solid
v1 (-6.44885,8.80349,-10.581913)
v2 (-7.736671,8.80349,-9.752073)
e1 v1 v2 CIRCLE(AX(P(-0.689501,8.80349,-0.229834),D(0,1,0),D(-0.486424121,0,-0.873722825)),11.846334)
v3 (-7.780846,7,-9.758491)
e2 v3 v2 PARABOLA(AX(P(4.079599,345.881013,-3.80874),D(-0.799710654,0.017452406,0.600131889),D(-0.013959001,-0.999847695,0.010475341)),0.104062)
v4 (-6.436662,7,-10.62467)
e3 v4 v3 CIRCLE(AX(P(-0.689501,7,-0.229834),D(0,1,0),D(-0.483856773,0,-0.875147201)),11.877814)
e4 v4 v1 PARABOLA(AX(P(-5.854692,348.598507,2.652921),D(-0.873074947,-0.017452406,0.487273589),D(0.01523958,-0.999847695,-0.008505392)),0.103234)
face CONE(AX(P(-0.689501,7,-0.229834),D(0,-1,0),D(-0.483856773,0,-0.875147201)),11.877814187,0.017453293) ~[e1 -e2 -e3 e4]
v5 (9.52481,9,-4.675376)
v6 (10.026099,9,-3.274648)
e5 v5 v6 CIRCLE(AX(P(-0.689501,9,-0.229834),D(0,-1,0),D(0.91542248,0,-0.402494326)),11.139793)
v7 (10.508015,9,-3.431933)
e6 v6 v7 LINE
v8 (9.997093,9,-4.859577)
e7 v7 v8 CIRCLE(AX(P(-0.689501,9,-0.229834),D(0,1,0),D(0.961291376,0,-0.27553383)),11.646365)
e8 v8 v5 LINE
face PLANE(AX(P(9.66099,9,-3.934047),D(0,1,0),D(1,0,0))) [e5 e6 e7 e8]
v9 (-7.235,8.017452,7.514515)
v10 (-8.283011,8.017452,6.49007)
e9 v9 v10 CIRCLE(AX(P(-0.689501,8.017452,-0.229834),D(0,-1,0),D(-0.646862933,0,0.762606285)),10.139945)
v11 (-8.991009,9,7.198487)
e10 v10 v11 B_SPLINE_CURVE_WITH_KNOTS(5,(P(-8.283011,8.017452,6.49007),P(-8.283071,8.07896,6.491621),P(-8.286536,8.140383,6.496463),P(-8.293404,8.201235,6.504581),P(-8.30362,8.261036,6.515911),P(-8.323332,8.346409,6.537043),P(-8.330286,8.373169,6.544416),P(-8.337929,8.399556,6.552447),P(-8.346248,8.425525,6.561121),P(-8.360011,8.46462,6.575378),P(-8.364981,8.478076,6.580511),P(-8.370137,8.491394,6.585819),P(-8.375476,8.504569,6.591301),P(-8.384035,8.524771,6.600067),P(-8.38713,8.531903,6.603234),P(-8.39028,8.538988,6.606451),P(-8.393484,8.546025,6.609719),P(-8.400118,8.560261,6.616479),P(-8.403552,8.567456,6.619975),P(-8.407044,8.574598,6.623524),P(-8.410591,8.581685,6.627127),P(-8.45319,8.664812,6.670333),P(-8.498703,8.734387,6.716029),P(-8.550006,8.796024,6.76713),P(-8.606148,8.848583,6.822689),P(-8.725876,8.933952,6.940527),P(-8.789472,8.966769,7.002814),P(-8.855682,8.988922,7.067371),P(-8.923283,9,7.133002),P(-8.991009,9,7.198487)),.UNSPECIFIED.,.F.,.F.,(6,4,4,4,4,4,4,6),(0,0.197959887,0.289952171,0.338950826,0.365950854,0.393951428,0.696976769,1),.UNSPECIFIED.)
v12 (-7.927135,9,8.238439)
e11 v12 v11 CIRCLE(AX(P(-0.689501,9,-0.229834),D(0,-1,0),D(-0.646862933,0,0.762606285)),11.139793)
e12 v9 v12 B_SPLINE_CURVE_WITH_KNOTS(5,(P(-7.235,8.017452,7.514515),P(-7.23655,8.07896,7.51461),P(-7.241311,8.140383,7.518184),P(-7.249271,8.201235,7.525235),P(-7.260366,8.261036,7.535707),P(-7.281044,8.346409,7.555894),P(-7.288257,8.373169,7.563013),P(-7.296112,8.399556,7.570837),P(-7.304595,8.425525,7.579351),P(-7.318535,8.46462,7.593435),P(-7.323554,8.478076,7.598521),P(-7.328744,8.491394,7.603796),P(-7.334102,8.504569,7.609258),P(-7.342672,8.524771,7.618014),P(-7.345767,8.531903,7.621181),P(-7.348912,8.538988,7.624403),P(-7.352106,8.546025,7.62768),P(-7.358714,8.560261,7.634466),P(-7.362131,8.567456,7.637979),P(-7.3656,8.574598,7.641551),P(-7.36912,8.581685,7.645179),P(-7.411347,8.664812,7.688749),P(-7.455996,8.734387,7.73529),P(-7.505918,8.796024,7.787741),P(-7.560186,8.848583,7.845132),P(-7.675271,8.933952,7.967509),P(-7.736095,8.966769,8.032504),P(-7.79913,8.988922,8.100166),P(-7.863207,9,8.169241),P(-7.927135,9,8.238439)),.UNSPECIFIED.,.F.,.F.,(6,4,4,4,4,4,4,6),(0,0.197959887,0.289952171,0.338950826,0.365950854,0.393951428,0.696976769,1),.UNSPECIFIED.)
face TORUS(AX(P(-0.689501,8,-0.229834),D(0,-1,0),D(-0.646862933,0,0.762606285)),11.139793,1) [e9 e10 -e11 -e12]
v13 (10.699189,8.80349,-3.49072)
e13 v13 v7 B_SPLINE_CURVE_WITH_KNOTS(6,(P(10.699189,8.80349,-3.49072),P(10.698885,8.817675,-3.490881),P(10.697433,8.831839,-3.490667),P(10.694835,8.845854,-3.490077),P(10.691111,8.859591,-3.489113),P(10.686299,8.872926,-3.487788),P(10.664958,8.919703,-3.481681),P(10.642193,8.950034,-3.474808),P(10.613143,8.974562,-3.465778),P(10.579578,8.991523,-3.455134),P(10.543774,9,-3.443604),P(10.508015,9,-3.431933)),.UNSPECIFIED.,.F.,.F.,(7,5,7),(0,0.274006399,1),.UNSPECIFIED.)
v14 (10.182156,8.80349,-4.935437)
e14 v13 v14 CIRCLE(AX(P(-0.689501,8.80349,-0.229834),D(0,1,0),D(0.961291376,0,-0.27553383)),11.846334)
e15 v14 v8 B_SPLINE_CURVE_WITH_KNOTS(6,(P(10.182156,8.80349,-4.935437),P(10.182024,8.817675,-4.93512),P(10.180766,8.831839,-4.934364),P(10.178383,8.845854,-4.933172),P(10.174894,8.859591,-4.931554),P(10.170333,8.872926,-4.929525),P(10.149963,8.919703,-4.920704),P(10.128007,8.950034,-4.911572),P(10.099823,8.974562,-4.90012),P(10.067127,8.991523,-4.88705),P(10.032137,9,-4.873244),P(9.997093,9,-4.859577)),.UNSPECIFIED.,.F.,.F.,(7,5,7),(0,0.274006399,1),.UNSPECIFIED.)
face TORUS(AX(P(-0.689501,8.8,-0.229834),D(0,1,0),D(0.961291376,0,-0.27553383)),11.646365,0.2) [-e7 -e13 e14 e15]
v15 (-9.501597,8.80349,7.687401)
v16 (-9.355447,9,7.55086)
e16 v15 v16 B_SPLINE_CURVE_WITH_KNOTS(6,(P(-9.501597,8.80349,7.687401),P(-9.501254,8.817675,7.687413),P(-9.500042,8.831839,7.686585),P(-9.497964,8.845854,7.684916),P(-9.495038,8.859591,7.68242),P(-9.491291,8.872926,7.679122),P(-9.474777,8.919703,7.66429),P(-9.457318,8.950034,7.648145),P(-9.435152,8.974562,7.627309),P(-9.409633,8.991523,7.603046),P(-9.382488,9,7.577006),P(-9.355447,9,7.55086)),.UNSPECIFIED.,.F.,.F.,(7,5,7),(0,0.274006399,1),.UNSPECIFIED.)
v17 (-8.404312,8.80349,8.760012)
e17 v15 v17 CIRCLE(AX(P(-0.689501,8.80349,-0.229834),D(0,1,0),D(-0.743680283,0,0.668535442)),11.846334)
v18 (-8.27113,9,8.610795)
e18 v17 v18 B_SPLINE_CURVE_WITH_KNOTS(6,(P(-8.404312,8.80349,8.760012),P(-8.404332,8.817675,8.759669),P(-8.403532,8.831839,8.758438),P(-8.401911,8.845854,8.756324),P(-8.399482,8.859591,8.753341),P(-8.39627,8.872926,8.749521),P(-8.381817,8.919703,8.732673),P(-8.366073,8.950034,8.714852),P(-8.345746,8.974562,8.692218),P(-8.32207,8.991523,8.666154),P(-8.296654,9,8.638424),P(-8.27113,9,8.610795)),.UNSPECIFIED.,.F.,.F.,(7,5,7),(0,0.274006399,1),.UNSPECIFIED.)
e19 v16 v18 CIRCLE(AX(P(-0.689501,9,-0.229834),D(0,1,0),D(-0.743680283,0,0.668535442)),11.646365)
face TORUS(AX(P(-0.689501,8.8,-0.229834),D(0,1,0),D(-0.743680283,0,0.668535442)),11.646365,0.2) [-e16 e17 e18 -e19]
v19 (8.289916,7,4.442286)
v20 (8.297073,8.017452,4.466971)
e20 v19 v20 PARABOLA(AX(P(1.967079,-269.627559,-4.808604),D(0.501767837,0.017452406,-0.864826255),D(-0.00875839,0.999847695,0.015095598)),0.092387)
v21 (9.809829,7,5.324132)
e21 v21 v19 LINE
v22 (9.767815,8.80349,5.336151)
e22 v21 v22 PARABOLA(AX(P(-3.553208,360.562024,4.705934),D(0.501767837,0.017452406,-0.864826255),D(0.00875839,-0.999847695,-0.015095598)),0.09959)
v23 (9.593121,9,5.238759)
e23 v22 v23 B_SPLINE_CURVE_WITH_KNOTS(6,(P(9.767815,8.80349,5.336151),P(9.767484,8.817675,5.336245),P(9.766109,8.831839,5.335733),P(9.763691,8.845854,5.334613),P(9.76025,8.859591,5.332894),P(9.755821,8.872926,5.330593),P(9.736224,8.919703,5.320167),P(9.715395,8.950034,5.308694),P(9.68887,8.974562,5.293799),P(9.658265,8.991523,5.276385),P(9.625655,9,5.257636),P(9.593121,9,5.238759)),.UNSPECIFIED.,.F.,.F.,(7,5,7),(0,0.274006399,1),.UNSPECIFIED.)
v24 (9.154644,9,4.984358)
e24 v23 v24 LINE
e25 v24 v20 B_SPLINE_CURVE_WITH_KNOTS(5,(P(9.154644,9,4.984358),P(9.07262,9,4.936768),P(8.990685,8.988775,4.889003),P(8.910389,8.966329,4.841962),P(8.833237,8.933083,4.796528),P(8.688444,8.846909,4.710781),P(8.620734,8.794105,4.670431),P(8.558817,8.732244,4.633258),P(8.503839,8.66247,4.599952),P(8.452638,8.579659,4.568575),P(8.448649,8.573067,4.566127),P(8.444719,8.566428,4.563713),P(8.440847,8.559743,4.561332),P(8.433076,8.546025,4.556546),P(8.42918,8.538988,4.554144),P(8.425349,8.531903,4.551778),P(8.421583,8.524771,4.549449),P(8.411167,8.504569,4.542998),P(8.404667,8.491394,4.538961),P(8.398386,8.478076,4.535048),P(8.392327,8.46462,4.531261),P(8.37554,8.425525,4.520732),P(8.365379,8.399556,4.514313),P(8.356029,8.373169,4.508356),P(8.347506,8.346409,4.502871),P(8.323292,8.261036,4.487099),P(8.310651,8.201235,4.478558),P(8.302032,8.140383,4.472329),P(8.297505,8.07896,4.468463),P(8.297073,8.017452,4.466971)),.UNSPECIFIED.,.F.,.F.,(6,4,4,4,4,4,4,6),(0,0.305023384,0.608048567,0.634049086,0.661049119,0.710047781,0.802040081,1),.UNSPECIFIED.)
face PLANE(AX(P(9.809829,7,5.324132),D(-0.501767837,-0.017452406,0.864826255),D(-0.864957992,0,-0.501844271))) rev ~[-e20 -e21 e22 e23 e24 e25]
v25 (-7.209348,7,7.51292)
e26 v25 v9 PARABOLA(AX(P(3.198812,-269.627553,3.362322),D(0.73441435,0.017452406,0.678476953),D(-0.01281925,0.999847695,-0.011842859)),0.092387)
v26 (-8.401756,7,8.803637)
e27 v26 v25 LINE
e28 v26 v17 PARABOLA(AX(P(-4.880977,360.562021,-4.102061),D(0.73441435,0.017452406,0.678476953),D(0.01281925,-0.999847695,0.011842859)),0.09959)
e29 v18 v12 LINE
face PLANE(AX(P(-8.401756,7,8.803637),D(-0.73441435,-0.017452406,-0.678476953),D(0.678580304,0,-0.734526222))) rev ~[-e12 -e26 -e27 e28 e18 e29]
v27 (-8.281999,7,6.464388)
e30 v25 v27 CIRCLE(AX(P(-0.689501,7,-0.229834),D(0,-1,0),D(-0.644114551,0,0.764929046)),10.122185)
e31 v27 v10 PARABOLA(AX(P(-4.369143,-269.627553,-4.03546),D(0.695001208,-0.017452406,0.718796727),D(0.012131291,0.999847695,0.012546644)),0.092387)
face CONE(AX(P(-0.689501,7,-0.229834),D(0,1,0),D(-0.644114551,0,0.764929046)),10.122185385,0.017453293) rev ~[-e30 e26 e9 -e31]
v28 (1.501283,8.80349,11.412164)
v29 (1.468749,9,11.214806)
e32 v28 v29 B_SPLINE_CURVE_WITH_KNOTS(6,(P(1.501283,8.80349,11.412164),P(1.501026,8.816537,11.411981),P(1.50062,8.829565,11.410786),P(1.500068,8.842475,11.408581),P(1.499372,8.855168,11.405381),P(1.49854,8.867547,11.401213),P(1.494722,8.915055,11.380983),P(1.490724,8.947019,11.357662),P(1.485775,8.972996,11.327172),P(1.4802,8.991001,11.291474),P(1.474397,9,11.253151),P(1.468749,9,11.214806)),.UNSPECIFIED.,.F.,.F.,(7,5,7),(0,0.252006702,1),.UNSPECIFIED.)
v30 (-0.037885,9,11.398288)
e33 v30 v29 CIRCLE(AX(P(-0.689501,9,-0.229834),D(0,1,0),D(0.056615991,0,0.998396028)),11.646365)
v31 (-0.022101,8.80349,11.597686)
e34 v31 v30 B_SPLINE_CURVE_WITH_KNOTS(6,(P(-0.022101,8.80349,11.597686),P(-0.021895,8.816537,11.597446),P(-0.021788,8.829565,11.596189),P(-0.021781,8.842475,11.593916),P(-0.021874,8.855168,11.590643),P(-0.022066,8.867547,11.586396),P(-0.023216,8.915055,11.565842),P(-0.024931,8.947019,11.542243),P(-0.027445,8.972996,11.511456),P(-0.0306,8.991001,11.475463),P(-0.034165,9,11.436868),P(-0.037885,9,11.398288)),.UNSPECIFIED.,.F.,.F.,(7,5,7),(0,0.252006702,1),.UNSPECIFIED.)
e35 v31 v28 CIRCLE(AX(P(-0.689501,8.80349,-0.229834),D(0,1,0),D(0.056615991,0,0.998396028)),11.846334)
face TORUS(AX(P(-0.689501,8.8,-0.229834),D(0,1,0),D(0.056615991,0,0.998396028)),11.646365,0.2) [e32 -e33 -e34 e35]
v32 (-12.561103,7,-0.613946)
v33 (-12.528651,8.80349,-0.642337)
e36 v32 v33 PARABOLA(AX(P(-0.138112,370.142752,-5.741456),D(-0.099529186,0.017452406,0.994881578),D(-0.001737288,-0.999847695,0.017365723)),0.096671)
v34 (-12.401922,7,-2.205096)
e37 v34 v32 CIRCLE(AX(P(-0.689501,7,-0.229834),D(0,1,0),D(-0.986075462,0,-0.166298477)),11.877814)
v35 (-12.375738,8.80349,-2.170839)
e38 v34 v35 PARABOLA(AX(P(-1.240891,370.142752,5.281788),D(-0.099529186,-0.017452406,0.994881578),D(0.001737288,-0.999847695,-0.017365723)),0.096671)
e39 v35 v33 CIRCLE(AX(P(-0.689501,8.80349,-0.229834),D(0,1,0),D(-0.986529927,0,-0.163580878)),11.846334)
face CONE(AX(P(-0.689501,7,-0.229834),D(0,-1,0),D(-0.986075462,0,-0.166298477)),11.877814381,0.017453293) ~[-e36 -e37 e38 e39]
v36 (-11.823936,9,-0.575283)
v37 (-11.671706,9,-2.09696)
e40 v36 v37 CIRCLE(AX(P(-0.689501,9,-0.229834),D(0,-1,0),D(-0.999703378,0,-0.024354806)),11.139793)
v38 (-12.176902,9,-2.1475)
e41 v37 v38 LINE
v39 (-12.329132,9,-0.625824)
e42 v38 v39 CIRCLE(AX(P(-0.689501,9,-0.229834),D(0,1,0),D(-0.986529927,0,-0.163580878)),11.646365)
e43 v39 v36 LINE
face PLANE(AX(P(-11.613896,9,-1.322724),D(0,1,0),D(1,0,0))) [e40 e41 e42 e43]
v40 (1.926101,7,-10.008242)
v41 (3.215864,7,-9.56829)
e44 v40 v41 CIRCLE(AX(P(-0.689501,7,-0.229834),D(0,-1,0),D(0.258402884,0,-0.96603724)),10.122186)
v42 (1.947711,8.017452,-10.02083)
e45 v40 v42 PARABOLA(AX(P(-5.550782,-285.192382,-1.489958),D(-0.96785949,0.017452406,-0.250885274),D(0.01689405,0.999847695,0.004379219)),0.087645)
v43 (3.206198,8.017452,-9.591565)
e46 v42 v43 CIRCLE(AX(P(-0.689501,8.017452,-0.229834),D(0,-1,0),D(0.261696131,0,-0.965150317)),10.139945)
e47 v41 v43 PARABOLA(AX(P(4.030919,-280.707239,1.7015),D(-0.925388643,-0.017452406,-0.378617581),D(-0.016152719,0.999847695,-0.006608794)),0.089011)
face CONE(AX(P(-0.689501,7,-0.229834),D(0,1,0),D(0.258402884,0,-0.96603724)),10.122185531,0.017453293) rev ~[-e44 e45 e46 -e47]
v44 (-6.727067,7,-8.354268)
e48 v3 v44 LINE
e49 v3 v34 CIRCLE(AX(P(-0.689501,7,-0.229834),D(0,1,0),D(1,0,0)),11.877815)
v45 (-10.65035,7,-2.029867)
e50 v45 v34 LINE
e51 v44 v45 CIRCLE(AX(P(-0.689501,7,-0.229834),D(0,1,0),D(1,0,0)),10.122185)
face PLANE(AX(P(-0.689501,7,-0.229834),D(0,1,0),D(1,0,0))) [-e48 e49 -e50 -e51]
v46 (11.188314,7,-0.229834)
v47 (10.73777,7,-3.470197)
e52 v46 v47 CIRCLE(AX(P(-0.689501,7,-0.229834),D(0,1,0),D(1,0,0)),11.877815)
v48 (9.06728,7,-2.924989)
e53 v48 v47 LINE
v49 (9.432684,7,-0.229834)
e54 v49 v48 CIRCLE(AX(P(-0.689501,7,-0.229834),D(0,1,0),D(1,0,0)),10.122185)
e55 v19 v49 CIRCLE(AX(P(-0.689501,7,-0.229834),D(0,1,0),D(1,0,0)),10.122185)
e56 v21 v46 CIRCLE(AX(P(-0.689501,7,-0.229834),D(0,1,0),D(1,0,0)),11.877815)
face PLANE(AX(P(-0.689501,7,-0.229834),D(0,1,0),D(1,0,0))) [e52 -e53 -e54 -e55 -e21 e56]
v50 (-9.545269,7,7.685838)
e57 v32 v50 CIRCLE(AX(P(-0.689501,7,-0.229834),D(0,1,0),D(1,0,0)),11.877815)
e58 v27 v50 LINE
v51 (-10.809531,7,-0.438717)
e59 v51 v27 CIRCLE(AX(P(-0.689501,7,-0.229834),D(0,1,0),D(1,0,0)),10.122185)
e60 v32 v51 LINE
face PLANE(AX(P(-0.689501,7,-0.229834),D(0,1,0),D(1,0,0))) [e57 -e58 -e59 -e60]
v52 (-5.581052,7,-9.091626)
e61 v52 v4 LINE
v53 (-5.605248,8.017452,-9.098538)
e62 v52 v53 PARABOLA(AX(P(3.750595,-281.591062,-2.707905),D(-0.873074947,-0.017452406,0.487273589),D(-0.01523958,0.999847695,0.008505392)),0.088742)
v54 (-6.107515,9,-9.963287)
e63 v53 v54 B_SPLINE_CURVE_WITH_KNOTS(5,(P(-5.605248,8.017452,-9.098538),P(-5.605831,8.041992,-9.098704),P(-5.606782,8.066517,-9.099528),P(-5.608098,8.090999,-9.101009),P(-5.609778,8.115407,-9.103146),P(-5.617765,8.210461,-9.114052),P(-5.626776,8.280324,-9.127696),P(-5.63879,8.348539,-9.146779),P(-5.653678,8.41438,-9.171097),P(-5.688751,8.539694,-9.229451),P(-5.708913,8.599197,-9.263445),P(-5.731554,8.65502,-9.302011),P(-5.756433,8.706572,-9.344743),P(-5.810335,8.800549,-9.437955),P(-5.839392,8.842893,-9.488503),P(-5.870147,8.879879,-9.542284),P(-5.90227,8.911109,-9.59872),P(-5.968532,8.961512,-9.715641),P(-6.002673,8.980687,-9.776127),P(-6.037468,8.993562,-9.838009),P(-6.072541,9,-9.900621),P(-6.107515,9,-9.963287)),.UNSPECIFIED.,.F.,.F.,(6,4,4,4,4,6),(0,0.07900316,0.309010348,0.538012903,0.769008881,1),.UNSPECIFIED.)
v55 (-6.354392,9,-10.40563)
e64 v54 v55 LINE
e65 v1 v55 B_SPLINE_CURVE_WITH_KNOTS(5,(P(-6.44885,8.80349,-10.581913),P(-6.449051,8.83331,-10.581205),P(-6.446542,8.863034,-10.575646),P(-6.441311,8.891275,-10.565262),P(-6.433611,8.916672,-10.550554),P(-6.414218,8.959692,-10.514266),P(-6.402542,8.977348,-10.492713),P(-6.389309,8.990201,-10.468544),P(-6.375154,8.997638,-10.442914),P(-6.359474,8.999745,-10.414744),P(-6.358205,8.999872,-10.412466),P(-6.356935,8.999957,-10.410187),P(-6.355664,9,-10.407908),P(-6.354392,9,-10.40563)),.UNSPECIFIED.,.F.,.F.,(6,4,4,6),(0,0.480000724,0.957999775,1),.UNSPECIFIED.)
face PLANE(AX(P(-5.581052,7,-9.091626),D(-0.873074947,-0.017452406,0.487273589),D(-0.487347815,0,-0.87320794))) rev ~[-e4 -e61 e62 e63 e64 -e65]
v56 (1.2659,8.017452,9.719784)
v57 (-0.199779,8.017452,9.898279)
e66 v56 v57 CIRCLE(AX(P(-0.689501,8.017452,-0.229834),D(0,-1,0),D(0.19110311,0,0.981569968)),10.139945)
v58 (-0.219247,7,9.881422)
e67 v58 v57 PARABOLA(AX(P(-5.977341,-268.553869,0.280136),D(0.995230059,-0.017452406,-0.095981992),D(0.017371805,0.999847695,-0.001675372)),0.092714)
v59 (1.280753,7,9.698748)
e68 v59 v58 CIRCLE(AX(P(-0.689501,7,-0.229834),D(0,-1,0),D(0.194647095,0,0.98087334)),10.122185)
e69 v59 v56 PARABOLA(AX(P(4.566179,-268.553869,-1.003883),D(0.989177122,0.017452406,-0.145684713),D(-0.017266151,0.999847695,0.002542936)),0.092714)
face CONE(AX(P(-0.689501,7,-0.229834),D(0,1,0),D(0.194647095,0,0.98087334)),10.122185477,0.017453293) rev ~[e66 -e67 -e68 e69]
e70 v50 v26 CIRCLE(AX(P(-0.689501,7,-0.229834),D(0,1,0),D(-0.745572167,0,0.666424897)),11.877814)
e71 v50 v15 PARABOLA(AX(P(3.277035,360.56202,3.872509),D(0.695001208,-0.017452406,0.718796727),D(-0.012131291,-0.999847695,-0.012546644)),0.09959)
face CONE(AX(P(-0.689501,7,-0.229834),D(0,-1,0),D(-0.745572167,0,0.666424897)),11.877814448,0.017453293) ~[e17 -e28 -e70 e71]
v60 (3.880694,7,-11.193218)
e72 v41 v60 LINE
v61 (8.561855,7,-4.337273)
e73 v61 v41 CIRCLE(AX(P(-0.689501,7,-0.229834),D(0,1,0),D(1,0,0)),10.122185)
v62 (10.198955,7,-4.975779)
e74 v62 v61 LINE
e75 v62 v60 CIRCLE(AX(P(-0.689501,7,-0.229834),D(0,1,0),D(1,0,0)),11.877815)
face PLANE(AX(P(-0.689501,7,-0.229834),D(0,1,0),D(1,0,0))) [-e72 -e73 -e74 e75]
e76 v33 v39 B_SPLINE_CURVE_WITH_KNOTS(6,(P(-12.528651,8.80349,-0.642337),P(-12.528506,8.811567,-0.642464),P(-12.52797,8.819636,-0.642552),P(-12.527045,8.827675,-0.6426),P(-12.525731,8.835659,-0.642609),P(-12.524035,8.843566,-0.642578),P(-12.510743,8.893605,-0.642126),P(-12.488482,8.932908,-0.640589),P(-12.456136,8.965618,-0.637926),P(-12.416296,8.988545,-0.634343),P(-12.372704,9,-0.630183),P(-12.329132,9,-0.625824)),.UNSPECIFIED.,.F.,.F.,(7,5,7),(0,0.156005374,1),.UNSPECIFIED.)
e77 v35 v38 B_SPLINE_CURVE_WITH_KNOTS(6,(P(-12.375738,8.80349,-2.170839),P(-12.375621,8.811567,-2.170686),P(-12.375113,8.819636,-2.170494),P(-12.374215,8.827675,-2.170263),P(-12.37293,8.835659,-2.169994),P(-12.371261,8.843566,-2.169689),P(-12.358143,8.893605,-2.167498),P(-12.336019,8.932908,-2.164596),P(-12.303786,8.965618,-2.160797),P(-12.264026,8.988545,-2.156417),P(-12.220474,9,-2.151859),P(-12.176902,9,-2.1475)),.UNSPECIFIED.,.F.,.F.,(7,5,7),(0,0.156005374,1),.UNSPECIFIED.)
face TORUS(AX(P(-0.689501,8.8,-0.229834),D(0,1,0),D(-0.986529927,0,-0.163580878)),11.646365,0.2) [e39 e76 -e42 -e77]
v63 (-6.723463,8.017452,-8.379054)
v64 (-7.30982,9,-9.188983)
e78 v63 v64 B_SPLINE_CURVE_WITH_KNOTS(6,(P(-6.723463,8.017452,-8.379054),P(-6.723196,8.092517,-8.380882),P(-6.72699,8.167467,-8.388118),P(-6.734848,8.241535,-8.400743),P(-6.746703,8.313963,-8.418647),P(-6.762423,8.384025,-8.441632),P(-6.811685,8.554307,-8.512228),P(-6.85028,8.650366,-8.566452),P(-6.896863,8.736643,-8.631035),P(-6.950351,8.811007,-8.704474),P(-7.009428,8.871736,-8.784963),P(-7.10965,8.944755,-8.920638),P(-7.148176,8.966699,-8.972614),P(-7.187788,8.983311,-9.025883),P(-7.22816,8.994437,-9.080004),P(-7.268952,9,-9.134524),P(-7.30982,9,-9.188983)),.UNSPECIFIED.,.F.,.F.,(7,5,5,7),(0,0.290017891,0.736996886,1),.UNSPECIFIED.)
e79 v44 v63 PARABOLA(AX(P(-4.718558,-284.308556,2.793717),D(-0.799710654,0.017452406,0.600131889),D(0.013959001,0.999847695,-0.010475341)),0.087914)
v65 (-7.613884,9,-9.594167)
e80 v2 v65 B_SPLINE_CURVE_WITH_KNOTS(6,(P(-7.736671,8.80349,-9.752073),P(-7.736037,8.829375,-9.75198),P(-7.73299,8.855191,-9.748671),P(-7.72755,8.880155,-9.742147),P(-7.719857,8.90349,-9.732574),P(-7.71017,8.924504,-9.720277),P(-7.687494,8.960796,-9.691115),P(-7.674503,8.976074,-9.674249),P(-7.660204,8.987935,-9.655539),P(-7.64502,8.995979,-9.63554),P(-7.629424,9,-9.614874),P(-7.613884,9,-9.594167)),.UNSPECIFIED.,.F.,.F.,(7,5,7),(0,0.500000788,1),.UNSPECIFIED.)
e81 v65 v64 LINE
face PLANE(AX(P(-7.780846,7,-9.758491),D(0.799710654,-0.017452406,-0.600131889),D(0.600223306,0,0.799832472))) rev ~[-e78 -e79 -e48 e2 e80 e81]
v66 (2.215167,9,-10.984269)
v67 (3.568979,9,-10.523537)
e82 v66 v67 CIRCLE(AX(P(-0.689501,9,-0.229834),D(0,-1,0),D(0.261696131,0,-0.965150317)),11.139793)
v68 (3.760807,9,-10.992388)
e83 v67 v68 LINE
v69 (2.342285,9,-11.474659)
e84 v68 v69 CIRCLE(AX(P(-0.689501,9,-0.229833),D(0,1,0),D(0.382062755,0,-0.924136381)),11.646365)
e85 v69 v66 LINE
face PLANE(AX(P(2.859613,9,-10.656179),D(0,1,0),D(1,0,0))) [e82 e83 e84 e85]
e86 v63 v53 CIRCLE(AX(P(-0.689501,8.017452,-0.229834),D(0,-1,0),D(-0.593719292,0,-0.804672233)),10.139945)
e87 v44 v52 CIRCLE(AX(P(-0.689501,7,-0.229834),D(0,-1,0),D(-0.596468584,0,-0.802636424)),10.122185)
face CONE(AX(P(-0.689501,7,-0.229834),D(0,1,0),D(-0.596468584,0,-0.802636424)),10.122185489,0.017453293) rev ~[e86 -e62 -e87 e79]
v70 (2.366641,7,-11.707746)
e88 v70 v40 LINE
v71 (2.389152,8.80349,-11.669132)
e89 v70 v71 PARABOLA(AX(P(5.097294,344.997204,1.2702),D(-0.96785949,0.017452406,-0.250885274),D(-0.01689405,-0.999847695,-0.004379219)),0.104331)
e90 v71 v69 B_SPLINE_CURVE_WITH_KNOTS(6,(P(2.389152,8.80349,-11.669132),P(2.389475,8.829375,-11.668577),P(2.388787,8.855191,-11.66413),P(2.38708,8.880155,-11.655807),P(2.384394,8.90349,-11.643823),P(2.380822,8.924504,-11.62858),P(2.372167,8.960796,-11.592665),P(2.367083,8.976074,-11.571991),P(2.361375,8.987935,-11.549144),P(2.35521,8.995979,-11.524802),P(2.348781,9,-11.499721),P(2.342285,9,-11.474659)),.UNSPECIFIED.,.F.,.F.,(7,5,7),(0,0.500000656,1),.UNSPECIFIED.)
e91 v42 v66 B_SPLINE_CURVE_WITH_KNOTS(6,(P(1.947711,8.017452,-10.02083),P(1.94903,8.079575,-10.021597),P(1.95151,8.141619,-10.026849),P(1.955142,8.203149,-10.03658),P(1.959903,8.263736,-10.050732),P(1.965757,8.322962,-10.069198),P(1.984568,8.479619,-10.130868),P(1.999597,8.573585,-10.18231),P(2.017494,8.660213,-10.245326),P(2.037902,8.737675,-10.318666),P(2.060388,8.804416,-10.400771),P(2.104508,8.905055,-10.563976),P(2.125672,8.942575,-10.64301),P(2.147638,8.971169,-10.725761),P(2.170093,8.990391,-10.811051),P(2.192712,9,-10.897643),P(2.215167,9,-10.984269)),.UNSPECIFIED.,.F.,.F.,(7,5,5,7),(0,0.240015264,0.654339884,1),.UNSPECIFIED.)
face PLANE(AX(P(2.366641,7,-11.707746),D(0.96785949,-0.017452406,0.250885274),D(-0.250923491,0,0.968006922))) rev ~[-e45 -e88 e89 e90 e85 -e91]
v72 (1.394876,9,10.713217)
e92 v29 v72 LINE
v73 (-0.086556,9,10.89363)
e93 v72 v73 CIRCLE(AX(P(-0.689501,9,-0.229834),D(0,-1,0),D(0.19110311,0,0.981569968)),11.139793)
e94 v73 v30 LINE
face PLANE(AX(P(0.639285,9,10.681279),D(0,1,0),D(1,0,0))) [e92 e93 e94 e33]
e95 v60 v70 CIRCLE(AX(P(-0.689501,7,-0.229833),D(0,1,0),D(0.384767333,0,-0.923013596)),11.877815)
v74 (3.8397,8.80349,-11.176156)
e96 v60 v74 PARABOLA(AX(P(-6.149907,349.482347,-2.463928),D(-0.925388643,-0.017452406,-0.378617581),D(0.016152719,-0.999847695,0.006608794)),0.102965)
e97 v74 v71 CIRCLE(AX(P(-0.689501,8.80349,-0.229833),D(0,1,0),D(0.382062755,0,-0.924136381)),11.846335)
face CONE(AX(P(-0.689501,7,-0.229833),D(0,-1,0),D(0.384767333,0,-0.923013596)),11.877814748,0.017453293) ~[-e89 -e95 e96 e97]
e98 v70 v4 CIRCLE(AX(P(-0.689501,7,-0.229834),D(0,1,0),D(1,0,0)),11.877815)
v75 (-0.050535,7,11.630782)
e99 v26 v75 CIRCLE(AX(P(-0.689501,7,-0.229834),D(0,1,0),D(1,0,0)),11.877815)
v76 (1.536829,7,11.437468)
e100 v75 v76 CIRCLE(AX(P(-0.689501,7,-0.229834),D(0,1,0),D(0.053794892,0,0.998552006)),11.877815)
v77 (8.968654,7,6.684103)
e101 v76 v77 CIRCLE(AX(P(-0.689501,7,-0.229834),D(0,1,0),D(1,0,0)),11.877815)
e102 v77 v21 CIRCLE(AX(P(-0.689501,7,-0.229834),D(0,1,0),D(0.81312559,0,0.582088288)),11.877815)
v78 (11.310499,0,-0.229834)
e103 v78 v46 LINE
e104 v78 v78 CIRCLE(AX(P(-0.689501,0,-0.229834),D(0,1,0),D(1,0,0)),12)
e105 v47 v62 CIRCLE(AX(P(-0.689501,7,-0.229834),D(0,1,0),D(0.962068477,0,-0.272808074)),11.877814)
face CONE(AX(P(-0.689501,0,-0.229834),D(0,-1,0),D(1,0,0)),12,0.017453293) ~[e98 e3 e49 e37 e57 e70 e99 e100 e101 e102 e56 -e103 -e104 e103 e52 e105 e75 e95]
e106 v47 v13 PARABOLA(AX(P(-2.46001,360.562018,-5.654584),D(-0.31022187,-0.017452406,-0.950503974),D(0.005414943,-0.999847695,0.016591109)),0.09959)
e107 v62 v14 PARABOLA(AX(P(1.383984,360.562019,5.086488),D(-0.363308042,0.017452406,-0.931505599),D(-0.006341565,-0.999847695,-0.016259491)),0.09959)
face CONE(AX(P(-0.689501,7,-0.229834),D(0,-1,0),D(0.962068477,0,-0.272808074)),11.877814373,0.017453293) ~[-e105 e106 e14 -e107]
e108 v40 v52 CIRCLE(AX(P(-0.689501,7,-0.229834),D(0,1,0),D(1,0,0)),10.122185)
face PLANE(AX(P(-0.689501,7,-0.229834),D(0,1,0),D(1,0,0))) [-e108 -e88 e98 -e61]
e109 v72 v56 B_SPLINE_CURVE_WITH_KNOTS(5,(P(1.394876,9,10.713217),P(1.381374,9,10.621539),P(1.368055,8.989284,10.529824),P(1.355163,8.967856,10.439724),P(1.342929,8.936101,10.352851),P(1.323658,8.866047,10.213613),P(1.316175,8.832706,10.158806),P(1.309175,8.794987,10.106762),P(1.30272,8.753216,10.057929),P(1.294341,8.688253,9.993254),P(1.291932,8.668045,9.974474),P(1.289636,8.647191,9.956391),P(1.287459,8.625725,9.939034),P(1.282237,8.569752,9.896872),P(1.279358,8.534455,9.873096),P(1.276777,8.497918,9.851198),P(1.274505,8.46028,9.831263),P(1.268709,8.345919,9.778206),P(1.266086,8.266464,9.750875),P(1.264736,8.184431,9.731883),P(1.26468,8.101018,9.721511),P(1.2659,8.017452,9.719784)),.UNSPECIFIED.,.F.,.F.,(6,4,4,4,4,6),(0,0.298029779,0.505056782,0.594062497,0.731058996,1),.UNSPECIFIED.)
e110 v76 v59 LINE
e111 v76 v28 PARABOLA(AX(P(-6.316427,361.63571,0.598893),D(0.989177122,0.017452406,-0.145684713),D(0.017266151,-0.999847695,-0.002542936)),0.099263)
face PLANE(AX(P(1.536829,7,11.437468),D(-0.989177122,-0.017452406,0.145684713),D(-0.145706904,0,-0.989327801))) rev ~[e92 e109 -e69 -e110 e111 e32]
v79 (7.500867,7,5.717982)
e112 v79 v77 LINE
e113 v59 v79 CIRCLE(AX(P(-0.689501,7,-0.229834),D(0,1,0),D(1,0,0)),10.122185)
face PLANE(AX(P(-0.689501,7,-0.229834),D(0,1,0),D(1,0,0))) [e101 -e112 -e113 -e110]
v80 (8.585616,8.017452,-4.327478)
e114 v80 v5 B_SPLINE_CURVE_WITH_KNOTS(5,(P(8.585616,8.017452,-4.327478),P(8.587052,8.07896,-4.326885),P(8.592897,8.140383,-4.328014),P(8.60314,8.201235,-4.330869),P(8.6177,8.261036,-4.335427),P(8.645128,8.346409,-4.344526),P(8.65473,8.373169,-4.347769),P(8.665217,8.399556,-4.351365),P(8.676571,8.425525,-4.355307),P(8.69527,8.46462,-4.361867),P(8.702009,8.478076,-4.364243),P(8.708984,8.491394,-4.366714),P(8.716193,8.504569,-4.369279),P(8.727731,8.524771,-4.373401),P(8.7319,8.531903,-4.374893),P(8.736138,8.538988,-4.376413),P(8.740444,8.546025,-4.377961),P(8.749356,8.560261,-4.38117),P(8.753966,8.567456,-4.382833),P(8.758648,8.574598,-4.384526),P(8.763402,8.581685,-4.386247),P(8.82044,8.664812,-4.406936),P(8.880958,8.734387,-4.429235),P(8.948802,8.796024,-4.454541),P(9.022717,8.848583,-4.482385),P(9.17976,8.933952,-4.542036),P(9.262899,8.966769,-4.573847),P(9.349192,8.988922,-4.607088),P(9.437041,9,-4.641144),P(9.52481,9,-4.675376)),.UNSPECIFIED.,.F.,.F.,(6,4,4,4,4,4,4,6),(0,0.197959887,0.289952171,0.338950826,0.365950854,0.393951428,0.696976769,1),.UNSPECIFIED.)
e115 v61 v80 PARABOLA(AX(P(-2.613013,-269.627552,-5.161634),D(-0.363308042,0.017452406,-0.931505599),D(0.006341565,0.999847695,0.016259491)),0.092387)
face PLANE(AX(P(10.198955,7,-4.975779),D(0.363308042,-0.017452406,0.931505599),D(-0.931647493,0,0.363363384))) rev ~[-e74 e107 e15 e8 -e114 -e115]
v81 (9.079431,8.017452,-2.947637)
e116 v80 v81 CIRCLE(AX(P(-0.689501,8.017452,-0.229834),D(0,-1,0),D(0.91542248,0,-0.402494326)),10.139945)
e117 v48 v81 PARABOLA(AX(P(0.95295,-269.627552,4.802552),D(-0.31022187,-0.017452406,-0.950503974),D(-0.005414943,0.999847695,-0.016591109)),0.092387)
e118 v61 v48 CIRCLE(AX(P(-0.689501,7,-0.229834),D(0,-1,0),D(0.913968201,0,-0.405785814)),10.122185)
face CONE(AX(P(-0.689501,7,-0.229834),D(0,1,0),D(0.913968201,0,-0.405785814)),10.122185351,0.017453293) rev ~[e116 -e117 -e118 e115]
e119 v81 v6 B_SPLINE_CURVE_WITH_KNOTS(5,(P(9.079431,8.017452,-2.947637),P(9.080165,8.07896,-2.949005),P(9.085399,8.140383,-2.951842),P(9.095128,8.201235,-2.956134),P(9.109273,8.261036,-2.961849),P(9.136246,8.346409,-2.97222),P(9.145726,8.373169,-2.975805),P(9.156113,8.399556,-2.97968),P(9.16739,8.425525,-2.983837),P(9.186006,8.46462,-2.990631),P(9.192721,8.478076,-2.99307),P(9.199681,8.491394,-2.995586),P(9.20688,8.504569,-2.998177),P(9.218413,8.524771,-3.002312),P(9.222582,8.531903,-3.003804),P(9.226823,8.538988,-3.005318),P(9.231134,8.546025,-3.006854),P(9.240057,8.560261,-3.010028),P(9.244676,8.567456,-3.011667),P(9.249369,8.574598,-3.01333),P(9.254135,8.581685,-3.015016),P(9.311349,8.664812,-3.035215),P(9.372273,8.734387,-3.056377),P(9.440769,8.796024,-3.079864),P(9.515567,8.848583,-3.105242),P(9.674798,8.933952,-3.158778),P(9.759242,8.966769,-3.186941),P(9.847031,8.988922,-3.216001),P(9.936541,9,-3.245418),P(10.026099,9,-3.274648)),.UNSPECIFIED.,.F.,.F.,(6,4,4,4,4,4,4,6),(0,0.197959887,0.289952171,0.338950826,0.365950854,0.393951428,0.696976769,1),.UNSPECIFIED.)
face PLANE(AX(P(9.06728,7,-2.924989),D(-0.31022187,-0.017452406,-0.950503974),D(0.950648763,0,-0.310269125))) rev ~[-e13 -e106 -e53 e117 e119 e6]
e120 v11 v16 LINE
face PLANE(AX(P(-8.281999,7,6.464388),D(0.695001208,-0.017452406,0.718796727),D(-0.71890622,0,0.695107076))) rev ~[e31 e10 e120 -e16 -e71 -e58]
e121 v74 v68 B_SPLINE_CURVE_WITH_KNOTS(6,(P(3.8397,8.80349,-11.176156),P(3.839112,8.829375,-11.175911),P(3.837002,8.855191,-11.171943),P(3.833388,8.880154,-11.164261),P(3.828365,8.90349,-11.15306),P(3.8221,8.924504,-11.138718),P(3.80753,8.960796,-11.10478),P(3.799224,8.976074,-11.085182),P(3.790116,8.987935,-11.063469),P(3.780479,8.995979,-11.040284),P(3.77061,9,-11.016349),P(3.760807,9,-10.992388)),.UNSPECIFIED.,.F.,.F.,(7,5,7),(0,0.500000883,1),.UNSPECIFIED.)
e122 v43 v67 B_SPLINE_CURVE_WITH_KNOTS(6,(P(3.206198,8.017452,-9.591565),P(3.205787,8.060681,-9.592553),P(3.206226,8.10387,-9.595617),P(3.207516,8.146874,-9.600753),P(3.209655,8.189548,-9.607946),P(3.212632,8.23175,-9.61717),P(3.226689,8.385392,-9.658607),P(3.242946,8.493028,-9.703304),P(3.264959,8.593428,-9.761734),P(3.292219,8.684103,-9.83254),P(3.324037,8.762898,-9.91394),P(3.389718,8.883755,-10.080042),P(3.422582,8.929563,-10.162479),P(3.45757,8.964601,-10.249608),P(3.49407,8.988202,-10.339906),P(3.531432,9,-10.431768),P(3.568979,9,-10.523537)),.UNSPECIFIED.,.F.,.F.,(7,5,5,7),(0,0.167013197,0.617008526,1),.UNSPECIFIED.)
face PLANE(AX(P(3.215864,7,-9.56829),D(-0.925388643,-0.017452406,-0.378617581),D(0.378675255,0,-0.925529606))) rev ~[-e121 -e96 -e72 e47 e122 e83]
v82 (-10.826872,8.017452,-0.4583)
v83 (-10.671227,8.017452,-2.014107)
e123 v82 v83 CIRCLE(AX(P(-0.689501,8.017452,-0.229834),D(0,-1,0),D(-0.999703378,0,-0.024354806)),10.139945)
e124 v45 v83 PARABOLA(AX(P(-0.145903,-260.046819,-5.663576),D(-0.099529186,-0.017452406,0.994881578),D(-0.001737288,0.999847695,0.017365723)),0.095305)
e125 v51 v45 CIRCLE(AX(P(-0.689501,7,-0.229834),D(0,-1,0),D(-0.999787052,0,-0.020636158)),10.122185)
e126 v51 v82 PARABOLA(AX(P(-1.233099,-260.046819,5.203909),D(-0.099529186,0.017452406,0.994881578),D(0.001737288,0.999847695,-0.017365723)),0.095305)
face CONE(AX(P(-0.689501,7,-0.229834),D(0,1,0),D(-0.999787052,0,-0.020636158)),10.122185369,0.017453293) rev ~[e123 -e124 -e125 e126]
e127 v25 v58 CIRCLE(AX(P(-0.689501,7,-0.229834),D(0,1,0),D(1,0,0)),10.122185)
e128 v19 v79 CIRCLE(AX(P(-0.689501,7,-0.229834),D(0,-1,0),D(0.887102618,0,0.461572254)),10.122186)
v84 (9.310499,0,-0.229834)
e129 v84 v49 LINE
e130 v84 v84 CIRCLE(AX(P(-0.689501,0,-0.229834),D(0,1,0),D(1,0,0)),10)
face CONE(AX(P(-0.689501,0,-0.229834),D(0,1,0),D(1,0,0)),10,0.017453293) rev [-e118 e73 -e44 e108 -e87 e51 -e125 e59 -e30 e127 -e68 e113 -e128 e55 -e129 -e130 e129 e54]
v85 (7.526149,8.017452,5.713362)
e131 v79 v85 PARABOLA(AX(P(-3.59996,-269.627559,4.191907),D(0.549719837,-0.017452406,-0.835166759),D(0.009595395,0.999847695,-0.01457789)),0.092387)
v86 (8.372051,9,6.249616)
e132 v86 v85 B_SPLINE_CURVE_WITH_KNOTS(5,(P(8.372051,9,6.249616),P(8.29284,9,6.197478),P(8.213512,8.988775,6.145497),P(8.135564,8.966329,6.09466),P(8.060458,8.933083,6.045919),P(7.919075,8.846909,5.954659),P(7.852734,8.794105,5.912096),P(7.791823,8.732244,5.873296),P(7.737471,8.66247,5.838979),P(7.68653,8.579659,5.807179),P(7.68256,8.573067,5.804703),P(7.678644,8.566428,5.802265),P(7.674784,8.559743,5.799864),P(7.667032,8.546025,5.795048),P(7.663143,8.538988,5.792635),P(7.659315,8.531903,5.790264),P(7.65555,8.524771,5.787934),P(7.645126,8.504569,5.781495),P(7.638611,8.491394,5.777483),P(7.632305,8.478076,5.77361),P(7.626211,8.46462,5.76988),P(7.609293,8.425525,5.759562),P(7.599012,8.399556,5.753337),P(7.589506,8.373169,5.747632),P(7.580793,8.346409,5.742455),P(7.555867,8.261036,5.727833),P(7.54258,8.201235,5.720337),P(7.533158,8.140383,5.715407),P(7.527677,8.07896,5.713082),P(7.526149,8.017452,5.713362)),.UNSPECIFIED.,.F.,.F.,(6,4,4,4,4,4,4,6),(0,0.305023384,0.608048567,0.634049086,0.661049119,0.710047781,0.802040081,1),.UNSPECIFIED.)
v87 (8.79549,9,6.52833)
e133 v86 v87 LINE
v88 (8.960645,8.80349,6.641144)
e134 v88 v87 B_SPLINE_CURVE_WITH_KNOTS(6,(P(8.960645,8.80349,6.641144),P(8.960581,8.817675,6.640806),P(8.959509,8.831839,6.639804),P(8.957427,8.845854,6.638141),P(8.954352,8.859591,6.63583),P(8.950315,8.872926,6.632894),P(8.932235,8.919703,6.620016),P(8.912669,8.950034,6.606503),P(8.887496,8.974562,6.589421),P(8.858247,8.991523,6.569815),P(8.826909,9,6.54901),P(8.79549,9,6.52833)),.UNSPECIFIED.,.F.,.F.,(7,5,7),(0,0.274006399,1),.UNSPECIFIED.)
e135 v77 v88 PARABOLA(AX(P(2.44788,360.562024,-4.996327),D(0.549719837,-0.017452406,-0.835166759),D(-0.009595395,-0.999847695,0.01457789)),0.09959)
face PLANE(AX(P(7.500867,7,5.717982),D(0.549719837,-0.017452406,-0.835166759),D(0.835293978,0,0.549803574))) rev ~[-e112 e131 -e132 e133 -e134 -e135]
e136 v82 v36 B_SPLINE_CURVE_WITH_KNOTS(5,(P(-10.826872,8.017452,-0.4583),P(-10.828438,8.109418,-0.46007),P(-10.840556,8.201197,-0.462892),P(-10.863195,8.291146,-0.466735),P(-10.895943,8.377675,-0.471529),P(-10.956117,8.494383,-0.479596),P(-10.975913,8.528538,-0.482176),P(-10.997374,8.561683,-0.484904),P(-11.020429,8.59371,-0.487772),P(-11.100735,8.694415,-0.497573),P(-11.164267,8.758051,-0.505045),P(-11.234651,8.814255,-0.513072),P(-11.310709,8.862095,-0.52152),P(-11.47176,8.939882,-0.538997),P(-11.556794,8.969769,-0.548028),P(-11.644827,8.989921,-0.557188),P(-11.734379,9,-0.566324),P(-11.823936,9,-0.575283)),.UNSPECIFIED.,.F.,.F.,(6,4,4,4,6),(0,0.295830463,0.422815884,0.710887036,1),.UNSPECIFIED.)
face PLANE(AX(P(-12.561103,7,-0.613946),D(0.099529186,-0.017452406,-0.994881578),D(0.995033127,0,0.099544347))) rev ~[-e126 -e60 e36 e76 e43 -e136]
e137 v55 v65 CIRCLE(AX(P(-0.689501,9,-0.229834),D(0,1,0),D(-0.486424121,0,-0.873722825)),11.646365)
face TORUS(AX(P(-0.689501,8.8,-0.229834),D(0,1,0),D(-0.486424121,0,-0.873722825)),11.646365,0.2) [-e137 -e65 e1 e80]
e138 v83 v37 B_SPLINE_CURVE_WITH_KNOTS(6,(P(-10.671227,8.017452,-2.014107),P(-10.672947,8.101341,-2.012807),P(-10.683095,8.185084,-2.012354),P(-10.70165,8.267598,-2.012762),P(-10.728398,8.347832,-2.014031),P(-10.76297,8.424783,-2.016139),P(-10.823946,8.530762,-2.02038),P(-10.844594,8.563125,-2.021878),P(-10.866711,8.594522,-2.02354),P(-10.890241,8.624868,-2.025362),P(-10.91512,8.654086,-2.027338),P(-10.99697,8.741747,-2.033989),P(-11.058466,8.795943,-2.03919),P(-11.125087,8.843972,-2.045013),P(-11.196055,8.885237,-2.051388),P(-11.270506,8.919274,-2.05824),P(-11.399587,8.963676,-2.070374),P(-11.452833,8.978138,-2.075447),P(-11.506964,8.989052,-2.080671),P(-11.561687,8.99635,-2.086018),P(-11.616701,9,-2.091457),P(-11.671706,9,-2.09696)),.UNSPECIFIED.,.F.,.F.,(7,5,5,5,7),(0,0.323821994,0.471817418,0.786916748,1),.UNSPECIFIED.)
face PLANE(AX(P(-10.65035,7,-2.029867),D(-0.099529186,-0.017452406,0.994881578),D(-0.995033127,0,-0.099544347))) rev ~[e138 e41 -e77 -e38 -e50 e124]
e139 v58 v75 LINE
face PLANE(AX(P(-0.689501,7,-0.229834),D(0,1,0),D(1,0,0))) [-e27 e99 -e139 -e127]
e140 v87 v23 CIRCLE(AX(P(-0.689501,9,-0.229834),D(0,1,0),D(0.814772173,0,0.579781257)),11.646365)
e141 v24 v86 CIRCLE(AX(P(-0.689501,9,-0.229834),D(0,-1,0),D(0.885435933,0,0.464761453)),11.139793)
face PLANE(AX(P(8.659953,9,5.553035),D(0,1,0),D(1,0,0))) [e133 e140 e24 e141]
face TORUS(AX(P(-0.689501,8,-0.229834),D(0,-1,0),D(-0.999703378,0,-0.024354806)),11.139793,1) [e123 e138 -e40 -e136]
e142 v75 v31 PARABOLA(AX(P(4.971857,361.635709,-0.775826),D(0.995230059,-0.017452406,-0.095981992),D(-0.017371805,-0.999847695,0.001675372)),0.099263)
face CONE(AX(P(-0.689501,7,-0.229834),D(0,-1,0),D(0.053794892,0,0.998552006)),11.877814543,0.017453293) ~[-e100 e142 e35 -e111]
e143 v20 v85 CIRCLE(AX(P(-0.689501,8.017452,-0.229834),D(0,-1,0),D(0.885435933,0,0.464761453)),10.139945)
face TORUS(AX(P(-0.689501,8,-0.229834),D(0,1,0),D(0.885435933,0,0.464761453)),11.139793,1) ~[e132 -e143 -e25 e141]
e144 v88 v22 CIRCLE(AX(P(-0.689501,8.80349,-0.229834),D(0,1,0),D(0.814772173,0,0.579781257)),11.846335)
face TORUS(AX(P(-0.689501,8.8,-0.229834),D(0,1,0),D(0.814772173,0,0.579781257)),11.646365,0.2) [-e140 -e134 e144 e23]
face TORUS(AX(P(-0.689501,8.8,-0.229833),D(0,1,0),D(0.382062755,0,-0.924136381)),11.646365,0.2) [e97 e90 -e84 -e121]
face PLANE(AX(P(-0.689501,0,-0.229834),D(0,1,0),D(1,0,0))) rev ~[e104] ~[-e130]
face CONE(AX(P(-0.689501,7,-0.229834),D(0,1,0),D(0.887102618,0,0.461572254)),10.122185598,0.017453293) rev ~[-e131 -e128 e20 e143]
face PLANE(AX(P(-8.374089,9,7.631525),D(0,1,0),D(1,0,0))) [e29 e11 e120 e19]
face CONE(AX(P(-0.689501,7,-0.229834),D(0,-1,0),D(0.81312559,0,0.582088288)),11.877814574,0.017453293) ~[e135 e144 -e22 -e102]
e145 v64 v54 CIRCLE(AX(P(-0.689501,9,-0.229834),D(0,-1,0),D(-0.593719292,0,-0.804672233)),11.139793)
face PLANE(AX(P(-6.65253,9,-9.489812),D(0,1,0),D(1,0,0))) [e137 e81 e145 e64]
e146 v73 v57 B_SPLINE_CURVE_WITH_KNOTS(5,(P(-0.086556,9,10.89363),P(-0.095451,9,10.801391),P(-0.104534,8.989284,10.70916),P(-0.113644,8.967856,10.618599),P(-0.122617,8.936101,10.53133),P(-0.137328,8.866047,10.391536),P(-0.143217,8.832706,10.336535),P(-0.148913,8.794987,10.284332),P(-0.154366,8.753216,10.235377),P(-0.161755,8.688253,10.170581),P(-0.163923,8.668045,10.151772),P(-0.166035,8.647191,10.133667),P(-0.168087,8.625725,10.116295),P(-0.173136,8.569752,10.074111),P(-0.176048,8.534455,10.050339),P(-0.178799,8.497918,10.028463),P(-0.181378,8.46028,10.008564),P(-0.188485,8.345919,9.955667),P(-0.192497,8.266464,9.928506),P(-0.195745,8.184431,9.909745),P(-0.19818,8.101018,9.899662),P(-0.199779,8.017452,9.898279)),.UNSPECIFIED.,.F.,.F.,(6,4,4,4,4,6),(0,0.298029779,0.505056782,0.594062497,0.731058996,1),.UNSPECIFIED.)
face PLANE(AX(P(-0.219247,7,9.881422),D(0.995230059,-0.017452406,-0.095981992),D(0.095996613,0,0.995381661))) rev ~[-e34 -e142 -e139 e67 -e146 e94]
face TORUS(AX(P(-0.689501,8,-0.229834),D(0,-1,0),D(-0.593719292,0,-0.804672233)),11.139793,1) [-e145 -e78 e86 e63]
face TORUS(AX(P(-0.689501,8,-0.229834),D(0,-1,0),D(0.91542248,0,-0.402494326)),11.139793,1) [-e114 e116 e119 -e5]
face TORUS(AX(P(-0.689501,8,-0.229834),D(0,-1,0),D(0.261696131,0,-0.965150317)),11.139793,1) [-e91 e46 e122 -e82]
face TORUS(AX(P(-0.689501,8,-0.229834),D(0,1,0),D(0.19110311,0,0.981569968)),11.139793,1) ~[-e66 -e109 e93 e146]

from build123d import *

# Parameters (mm, degrees)
SKETCH8_R                     = 12
SKETCH8_R_2                   = 10
BOSS_EXTRUDE5_DEPTH           = 7
BOSS_EXTRUDE5_DRAFT           = 1
BOSS_EXTRUDE7_DEPTH           = 2
BOSS_EXTRUDE7_DRAFT           = 1
BOSS_EXTRUDE7_PROFILE_2_DEPTH = 2
BOSS_EXTRUDE7_PROFILE_2_DRAFT = 1
BOSS_EXTRUDE7_PROFILE_3_DEPTH = 2
BOSS_EXTRUDE7_PROFILE_3_DRAFT = 1
BOSS_EXTRUDE7_PROFILE_4_DEPTH = 2
BOSS_EXTRUDE7_PROFILE_4_DRAFT = 1
BOSS_EXTRUDE7_PROFILE_5_DEPTH = 2
BOSS_EXTRUDE7_PROFILE_5_DRAFT = 1
BOSS_EXTRUDE7_PROFILE_6_DEPTH = 2
BOSS_EXTRUDE7_PROFILE_6_DRAFT = 1
BOSS_EXTRUDE7_PROFILE_7_DEPTH = 2
BOSS_EXTRUDE7_PROFILE_7_DRAFT = 1
FILLET3_R                     = 0.2
FILLET4_R                     = 1


with BuildPart() as part:
    # Sketch8 → Boss-Extrude5 (with draft: the straight prism first)
    with BuildSketch(Plane(origin=(0, 0, 0), x_dir=(1, 0, 0), z_dir=(0, 1, 0))):
        with Locations((-0.689500998, 0.229833666)):
            Circle(SKETCH8_R)
        with Locations((-0.689500998, 0.229833666)):
            Circle(SKETCH8_R_2, mode=Mode.SUBTRACT)
    extrude(amount=BOSS_EXTRUDE5_DEPTH)
    # Boss-Extrude5: the draft: its side faces are tilted about the plane it starts from
    boss_extrude5_sides = [part.faces().sort_by_distance(p)[0] for p in [
        (-12.689500998, 3.5, -0.229833666),
        (-10.689500998, 3.5, -0.229833666),
    ]]
    draft(boss_extrude5_sides, Plane(origin=(0, 0, 0), x_dir=(1, 0, 0), z_dir=(0, 1, 0)), BOSS_EXTRUDE5_DRAFT)


with BuildPart() as boss_extrude7_tool:
    # Sketch9 → Boss-Extrude7 (with draft: the straight prism first)
    with BuildSketch(Plane(origin=(0, 7, 0), x_dir=(1, 0, 0), z_dir=(0, 1, 0))):
        with BuildLine():
            ThreePointArc((-7.209347937, -7.512919996), (-7.765123044, -7.008550894), (-8.28199938, -6.464388222))
            Line((-8.28199938, -6.464388222), (-9.545268932, -7.685837669))
            ThreePointArc((-9.545268932, -7.685837669), (-8.992344967, -8.264002947), (-8.401756366, -8.803637179))
            Line((-8.401756366, -8.803637179), (-7.209347937, -7.512919996))
        make_face()
    extrude(amount=BOSS_EXTRUDE7_DEPTH)
    # Boss-Extrude7: the draft: its side faces are tilted about the plane it starts from
    boss_extrude7_sides = [boss_extrude7_tool.faces().sort_by_distance(p)[0] for p in [
        (-8.992344967, 8, 8.264002947),
        (-7.805552152, 8, 8.158278588),
        (-7.765123044, 8, 7.008550894),
        (-8.913634156, 8, 7.075112945),
    ]]
    draft(boss_extrude7_sides, Plane(origin=(0, 7, 0), x_dir=(1, 0, 0), z_dir=(0, 1, 0)), BOSS_EXTRUDE7_DRAFT)


with BuildPart() as part_1:
    add(part.part)

    # Boss-Extrude7: add boss_extrude7_tool
    add(boss_extrude7_tool.part)


with BuildPart() as boss_extrude7_profile_2_tool:
    # Sketch9 → Boss-Extrude7 profile 2 (with draft: the straight prism first)
    with BuildSketch(Plane(origin=(0, 7, 0), x_dir=(1, 0, 0), z_dir=(0, 1, 0))):
        with BuildLine():
            ThreePointArc((-10.809530951, 0.438716694), (-10.761410839, 1.237440003), (-10.650350336, 2.029866676))
            Line((-10.650350336, 2.029866676), (-12.401922464, 2.205096122))
            ThreePointArc((-12.401922464, 2.205096122), (-12.508319943, 1.412202953), (-12.56110308, 0.61394614))
            Line((-12.56110308, 0.61394614), (-10.809530951, 0.438716694))
        make_face()
    extrude(amount=BOSS_EXTRUDE7_PROFILE_2_DEPTH)
    # Boss-Extrude7 profile 2: the draft: its side faces are tilted about the plane it starts from
    boss_extrude7_profile_2_sides = [boss_extrude7_profile_2_tool.faces().sort_by_distance(p)[0] for p in [
        (-11.685317015, 8, -0.526331417),
        (-10.761410839, 8, -1.237440003),
        (-11.5261364, 8, -2.117481399),
        (-12.508319943, 8, -1.412202953),
    ]]
    draft(boss_extrude7_profile_2_sides, Plane(origin=(0, 7, 0), x_dir=(1, 0, 0), z_dir=(0, 1, 0)), BOSS_EXTRUDE7_PROFILE_2_DRAFT)


with BuildPart() as part_2:
    add(part_1.part)

    # Boss-Extrude7 profile 2: add boss_extrude7_profile_2_tool
    add(boss_extrude7_profile_2_tool.part)


with BuildPart() as boss_extrude7_profile_3_tool:
    # Sketch9 → Boss-Extrude7 profile 3 (with draft: the straight prism first)
    with BuildSketch(Plane(origin=(0, 7, 0), x_dir=(1, 0, 0), z_dir=(0, 1, 0))):
        with BuildLine():
            ThreePointArc((-6.727066623, 8.354268397), (-6.166482087, 8.742254974), (-5.581052028, 9.091626199))
            Line((-5.581052028, 9.091626199), (-6.436662035, 10.624669806))
            ThreePointArc((-6.436662035, 10.624669806), (-7.123347108, 10.214226618), (-7.78084598, 9.758490692))
            Line((-7.78084598, 9.758490692), (-6.727066623, 8.354268397))
        make_face()
    extrude(amount=BOSS_EXTRUDE7_PROFILE_3_DEPTH)
    # Boss-Extrude7 profile 3: the draft: its side faces are tilted about the plane it starts from
    boss_extrude7_profile_3_sides = [boss_extrude7_profile_3_tool.faces().sort_by_distance(p)[0] for p in [
        (-7.253956301, 8, -9.056379545),
        (-6.166482087, 8, -8.742254974),
        (-6.008857032, 8, -9.858148003),
        (-7.123347108, 8, -10.214226618),
    ]]
    draft(boss_extrude7_profile_3_sides, Plane(origin=(0, 7, 0), x_dir=(1, 0, 0), z_dir=(0, 1, 0)), BOSS_EXTRUDE7_PROFILE_3_DRAFT)


with BuildPart() as part_3:
    add(part_2.part)

    # Boss-Extrude7 profile 3: add boss_extrude7_profile_3_tool
    add(boss_extrude7_profile_3_tool.part)


with BuildPart() as boss_extrude7_profile_4_tool:
    # Sketch9 → Boss-Extrude7 profile 4 (with draft: the straight prism first)
    with BuildSketch(Plane(origin=(0, 7, 0), x_dir=(1, 0, 0), z_dir=(0, 1, 0))):
        with BuildLine():
            Line((2.366640727, 11.7077462), (1.926100917, 10.008241767))
            ThreePointArc((1.926100917, 10.008241767), (2.578394525, 9.809995315), (3.215863804, 9.568289863))
            Line((3.215863804, 9.568289863), (3.880694044, 11.193217982))
            ThreePointArc((3.880694044, 11.193217982), (3.132335987, 11.475990362), (2.366640727, 11.7077462))
        make_face()
    extrude(amount=BOSS_EXTRUDE7_PROFILE_4_DEPTH)
    # Boss-Extrude7 profile 4: the draft: its side faces are tilted about the plane it starts from
    boss_extrude7_profile_4_sides = [boss_extrude7_profile_4_tool.faces().sort_by_distance(p)[0] for p in [
        (3.132335987, 8, -11.475990362),
        (2.146370822, 8, -10.857993984),
        (2.578394525, 8, -9.809995315),
        (3.548278924, 8, -10.380753922),
    ]]
    draft(boss_extrude7_profile_4_sides, Plane(origin=(0, 7, 0), x_dir=(1, 0, 0), z_dir=(0, 1, 0)), BOSS_EXTRUDE7_PROFILE_4_DRAFT)


with BuildPart() as part_4:
    add(part_3.part)

    # Boss-Extrude7 profile 4: add boss_extrude7_profile_4_tool
    add(boss_extrude7_profile_4_tool.part)


with BuildPart() as boss_extrude7_profile_5_tool:
    # Sketch9 → Boss-Extrude7 profile 5 (with draft: the straight prism first)
    with BuildSketch(Plane(origin=(0, 7, 0), x_dir=(1, 0, 0), z_dir=(0, 1, 0))):
        with BuildLine():
            Line((10.198955387, 4.975778875), (8.561854638, 4.337272925))
            ThreePointArc((8.561854638, 4.337272925), (8.840763983, 3.640506293), (9.06727997, 2.92498923))
            Line((9.06727997, 2.92498923), (10.737769949, 3.470197392))
            ThreePointArc((10.737769949, 3.470197392), (10.493728209, 4.232065904), (10.198955387, 4.975778875))
        make_face()
    extrude(amount=BOSS_EXTRUDE7_PROFILE_5_DEPTH)
    # Boss-Extrude7 profile 5: the draft: its side faces are tilted about the plane it starts from
    boss_extrude7_profile_5_sides = [boss_extrude7_profile_5_tool.faces().sort_by_distance(p)[0] for p in [
        (10.493728209, 8, -4.232065904),
        (9.380405013, 8, -4.6565259),
        (8.840763983, 8, -3.640506293),
        (9.90252496, 8, -3.197593311),
    ]]
    draft(boss_extrude7_profile_5_sides, Plane(origin=(0, 7, 0), x_dir=(1, 0, 0), z_dir=(0, 1, 0)), BOSS_EXTRUDE7_PROFILE_5_DRAFT)


with BuildPart() as part_5:
    add(part_4.part)

    # Boss-Extrude7 profile 5: add boss_extrude7_profile_5_tool
    add(boss_extrude7_profile_5_tool.part)


with BuildPart() as boss_extrude7_profile_6_tool:
    # Sketch9 → Boss-Extrude7 profile 6 (with draft: the straight prism first)
    with BuildSketch(Plane(origin=(0, 7, 0), x_dir=(1, 0, 0), z_dir=(0, 1, 0))):
        with BuildLine():
            Line((9.809829479, -5.324132297), (8.289916221, -4.44228628))
            ThreePointArc((8.289916221, -4.44228628), (7.919054516, -5.094770576), (7.500866623, -5.717982455))
            Line((7.500866623, -5.717982455), (8.968653964, -6.684103064))
            ThreePointArc((8.968653964, -6.684103064), (9.412154061, -6.018289528), (9.809829479, -5.324132297))
        make_face()
    extrude(amount=BOSS_EXTRUDE7_PROFILE_6_DEPTH)
    # Boss-Extrude7 profile 6: the draft: its side faces are tilted about the plane it starts from
    boss_extrude7_profile_6_sides = [boss_extrude7_profile_6_tool.faces().sort_by_distance(p)[0] for p in [
        (9.04987285, 8, 4.883209289),
        (7.919054516, 8, 5.094770576),
        (8.234760293, 8, 6.20104276),
        (9.412154061, 8, 6.018289528),
    ]]
    draft(boss_extrude7_profile_6_sides, Plane(origin=(0, 7, 0), x_dir=(1, 0, 0), z_dir=(0, 1, 0)), BOSS_EXTRUDE7_PROFILE_6_DRAFT)


with BuildPart() as part_6:
    add(part_5.part)

    # Boss-Extrude7 profile 6: add boss_extrude7_profile_6_tool
    add(boss_extrude7_profile_6_tool.part)


with BuildPart() as boss_extrude7_profile_7_tool:
    # Sketch9 → Boss-Extrude7 profile 7 (with draft: the straight prism first)
    with BuildSketch(Plane(origin=(0, 7, 0), x_dir=(1, 0, 0), z_dir=(0, 1, 0))):
        with BuildLine():
            ThreePointArc((1.280752997, -9.698748185), (0.534166556, -9.818115184), (-0.219247003, -9.881422416))
            Line((-0.219247003, -9.881422416), (-0.050535252, -11.630781881))
            ThreePointArc((-0.050535252, -11.630781881), (0.746403959, -11.560868405), (1.536829397, -11.437468136))
            Line((1.536829397, -11.437468136), (1.280752997, -9.698748185))
        make_face()
    extrude(amount=BOSS_EXTRUDE7_PROFILE_7_DEPTH)
    # Boss-Extrude7 profile 7: the draft: its side faces are tilted about the plane it starts from
    boss_extrude7_profile_7_sides = [boss_extrude7_profile_7_tool.faces().sort_by_distance(p)[0] for p in [
        (1.408791197, 8, 10.568108161),
        (0.534166556, 8, 9.818115184),
        (-0.134891127, 8, 10.756102148),
        (0.746403959, 8, 11.560868405),
    ]]
    draft(boss_extrude7_profile_7_sides, Plane(origin=(0, 7, 0), x_dir=(1, 0, 0), z_dir=(0, 1, 0)), BOSS_EXTRUDE7_PROFILE_7_DRAFT)


with BuildPart() as part_7:
    add(part_6.part)

    # Boss-Extrude7 profile 7: add boss_extrude7_profile_7_tool
    add(boss_extrude7_profile_7_tool.part)

    # Fillet3
    fillet3_edges = [part_7.edges().sort_by_distance(p)[0] for p in [
        (-8.967942047, 9, 8.239038679),
        (0.742183685, 9, 11.526214308),
        (9.382464248, 9, 5.999925646),
        (10.460859537, 9, -4.220302928),
        (3.121321399, 9, -11.44286259),
        (-7.104320002, 9, -10.184957078),
        (-12.473583207, 9, -1.408727847),
    ]]
    fillet(fillet3_edges, radius=FILLET3_R)

    # Fillet4
    fillet4_edges = [part_7.edges().sort_by_distance(p)[0] for p in [
        (-6.18550884, 9, -8.771524863),
        (-10.796147575, 9, -1.240915109),
        (-7.789525964, 9, 7.033515162),
        (0.538386829, 9, 9.852769281),
        (7.948744329, 9, 5.113134459),
        (8.873632654, 9, -3.652269269),
        (2.589409961, 9, -9.843123094),
    ]]
    fillet(fillet4_edges, radius=FILLET4_R)


solid = part_7.part
